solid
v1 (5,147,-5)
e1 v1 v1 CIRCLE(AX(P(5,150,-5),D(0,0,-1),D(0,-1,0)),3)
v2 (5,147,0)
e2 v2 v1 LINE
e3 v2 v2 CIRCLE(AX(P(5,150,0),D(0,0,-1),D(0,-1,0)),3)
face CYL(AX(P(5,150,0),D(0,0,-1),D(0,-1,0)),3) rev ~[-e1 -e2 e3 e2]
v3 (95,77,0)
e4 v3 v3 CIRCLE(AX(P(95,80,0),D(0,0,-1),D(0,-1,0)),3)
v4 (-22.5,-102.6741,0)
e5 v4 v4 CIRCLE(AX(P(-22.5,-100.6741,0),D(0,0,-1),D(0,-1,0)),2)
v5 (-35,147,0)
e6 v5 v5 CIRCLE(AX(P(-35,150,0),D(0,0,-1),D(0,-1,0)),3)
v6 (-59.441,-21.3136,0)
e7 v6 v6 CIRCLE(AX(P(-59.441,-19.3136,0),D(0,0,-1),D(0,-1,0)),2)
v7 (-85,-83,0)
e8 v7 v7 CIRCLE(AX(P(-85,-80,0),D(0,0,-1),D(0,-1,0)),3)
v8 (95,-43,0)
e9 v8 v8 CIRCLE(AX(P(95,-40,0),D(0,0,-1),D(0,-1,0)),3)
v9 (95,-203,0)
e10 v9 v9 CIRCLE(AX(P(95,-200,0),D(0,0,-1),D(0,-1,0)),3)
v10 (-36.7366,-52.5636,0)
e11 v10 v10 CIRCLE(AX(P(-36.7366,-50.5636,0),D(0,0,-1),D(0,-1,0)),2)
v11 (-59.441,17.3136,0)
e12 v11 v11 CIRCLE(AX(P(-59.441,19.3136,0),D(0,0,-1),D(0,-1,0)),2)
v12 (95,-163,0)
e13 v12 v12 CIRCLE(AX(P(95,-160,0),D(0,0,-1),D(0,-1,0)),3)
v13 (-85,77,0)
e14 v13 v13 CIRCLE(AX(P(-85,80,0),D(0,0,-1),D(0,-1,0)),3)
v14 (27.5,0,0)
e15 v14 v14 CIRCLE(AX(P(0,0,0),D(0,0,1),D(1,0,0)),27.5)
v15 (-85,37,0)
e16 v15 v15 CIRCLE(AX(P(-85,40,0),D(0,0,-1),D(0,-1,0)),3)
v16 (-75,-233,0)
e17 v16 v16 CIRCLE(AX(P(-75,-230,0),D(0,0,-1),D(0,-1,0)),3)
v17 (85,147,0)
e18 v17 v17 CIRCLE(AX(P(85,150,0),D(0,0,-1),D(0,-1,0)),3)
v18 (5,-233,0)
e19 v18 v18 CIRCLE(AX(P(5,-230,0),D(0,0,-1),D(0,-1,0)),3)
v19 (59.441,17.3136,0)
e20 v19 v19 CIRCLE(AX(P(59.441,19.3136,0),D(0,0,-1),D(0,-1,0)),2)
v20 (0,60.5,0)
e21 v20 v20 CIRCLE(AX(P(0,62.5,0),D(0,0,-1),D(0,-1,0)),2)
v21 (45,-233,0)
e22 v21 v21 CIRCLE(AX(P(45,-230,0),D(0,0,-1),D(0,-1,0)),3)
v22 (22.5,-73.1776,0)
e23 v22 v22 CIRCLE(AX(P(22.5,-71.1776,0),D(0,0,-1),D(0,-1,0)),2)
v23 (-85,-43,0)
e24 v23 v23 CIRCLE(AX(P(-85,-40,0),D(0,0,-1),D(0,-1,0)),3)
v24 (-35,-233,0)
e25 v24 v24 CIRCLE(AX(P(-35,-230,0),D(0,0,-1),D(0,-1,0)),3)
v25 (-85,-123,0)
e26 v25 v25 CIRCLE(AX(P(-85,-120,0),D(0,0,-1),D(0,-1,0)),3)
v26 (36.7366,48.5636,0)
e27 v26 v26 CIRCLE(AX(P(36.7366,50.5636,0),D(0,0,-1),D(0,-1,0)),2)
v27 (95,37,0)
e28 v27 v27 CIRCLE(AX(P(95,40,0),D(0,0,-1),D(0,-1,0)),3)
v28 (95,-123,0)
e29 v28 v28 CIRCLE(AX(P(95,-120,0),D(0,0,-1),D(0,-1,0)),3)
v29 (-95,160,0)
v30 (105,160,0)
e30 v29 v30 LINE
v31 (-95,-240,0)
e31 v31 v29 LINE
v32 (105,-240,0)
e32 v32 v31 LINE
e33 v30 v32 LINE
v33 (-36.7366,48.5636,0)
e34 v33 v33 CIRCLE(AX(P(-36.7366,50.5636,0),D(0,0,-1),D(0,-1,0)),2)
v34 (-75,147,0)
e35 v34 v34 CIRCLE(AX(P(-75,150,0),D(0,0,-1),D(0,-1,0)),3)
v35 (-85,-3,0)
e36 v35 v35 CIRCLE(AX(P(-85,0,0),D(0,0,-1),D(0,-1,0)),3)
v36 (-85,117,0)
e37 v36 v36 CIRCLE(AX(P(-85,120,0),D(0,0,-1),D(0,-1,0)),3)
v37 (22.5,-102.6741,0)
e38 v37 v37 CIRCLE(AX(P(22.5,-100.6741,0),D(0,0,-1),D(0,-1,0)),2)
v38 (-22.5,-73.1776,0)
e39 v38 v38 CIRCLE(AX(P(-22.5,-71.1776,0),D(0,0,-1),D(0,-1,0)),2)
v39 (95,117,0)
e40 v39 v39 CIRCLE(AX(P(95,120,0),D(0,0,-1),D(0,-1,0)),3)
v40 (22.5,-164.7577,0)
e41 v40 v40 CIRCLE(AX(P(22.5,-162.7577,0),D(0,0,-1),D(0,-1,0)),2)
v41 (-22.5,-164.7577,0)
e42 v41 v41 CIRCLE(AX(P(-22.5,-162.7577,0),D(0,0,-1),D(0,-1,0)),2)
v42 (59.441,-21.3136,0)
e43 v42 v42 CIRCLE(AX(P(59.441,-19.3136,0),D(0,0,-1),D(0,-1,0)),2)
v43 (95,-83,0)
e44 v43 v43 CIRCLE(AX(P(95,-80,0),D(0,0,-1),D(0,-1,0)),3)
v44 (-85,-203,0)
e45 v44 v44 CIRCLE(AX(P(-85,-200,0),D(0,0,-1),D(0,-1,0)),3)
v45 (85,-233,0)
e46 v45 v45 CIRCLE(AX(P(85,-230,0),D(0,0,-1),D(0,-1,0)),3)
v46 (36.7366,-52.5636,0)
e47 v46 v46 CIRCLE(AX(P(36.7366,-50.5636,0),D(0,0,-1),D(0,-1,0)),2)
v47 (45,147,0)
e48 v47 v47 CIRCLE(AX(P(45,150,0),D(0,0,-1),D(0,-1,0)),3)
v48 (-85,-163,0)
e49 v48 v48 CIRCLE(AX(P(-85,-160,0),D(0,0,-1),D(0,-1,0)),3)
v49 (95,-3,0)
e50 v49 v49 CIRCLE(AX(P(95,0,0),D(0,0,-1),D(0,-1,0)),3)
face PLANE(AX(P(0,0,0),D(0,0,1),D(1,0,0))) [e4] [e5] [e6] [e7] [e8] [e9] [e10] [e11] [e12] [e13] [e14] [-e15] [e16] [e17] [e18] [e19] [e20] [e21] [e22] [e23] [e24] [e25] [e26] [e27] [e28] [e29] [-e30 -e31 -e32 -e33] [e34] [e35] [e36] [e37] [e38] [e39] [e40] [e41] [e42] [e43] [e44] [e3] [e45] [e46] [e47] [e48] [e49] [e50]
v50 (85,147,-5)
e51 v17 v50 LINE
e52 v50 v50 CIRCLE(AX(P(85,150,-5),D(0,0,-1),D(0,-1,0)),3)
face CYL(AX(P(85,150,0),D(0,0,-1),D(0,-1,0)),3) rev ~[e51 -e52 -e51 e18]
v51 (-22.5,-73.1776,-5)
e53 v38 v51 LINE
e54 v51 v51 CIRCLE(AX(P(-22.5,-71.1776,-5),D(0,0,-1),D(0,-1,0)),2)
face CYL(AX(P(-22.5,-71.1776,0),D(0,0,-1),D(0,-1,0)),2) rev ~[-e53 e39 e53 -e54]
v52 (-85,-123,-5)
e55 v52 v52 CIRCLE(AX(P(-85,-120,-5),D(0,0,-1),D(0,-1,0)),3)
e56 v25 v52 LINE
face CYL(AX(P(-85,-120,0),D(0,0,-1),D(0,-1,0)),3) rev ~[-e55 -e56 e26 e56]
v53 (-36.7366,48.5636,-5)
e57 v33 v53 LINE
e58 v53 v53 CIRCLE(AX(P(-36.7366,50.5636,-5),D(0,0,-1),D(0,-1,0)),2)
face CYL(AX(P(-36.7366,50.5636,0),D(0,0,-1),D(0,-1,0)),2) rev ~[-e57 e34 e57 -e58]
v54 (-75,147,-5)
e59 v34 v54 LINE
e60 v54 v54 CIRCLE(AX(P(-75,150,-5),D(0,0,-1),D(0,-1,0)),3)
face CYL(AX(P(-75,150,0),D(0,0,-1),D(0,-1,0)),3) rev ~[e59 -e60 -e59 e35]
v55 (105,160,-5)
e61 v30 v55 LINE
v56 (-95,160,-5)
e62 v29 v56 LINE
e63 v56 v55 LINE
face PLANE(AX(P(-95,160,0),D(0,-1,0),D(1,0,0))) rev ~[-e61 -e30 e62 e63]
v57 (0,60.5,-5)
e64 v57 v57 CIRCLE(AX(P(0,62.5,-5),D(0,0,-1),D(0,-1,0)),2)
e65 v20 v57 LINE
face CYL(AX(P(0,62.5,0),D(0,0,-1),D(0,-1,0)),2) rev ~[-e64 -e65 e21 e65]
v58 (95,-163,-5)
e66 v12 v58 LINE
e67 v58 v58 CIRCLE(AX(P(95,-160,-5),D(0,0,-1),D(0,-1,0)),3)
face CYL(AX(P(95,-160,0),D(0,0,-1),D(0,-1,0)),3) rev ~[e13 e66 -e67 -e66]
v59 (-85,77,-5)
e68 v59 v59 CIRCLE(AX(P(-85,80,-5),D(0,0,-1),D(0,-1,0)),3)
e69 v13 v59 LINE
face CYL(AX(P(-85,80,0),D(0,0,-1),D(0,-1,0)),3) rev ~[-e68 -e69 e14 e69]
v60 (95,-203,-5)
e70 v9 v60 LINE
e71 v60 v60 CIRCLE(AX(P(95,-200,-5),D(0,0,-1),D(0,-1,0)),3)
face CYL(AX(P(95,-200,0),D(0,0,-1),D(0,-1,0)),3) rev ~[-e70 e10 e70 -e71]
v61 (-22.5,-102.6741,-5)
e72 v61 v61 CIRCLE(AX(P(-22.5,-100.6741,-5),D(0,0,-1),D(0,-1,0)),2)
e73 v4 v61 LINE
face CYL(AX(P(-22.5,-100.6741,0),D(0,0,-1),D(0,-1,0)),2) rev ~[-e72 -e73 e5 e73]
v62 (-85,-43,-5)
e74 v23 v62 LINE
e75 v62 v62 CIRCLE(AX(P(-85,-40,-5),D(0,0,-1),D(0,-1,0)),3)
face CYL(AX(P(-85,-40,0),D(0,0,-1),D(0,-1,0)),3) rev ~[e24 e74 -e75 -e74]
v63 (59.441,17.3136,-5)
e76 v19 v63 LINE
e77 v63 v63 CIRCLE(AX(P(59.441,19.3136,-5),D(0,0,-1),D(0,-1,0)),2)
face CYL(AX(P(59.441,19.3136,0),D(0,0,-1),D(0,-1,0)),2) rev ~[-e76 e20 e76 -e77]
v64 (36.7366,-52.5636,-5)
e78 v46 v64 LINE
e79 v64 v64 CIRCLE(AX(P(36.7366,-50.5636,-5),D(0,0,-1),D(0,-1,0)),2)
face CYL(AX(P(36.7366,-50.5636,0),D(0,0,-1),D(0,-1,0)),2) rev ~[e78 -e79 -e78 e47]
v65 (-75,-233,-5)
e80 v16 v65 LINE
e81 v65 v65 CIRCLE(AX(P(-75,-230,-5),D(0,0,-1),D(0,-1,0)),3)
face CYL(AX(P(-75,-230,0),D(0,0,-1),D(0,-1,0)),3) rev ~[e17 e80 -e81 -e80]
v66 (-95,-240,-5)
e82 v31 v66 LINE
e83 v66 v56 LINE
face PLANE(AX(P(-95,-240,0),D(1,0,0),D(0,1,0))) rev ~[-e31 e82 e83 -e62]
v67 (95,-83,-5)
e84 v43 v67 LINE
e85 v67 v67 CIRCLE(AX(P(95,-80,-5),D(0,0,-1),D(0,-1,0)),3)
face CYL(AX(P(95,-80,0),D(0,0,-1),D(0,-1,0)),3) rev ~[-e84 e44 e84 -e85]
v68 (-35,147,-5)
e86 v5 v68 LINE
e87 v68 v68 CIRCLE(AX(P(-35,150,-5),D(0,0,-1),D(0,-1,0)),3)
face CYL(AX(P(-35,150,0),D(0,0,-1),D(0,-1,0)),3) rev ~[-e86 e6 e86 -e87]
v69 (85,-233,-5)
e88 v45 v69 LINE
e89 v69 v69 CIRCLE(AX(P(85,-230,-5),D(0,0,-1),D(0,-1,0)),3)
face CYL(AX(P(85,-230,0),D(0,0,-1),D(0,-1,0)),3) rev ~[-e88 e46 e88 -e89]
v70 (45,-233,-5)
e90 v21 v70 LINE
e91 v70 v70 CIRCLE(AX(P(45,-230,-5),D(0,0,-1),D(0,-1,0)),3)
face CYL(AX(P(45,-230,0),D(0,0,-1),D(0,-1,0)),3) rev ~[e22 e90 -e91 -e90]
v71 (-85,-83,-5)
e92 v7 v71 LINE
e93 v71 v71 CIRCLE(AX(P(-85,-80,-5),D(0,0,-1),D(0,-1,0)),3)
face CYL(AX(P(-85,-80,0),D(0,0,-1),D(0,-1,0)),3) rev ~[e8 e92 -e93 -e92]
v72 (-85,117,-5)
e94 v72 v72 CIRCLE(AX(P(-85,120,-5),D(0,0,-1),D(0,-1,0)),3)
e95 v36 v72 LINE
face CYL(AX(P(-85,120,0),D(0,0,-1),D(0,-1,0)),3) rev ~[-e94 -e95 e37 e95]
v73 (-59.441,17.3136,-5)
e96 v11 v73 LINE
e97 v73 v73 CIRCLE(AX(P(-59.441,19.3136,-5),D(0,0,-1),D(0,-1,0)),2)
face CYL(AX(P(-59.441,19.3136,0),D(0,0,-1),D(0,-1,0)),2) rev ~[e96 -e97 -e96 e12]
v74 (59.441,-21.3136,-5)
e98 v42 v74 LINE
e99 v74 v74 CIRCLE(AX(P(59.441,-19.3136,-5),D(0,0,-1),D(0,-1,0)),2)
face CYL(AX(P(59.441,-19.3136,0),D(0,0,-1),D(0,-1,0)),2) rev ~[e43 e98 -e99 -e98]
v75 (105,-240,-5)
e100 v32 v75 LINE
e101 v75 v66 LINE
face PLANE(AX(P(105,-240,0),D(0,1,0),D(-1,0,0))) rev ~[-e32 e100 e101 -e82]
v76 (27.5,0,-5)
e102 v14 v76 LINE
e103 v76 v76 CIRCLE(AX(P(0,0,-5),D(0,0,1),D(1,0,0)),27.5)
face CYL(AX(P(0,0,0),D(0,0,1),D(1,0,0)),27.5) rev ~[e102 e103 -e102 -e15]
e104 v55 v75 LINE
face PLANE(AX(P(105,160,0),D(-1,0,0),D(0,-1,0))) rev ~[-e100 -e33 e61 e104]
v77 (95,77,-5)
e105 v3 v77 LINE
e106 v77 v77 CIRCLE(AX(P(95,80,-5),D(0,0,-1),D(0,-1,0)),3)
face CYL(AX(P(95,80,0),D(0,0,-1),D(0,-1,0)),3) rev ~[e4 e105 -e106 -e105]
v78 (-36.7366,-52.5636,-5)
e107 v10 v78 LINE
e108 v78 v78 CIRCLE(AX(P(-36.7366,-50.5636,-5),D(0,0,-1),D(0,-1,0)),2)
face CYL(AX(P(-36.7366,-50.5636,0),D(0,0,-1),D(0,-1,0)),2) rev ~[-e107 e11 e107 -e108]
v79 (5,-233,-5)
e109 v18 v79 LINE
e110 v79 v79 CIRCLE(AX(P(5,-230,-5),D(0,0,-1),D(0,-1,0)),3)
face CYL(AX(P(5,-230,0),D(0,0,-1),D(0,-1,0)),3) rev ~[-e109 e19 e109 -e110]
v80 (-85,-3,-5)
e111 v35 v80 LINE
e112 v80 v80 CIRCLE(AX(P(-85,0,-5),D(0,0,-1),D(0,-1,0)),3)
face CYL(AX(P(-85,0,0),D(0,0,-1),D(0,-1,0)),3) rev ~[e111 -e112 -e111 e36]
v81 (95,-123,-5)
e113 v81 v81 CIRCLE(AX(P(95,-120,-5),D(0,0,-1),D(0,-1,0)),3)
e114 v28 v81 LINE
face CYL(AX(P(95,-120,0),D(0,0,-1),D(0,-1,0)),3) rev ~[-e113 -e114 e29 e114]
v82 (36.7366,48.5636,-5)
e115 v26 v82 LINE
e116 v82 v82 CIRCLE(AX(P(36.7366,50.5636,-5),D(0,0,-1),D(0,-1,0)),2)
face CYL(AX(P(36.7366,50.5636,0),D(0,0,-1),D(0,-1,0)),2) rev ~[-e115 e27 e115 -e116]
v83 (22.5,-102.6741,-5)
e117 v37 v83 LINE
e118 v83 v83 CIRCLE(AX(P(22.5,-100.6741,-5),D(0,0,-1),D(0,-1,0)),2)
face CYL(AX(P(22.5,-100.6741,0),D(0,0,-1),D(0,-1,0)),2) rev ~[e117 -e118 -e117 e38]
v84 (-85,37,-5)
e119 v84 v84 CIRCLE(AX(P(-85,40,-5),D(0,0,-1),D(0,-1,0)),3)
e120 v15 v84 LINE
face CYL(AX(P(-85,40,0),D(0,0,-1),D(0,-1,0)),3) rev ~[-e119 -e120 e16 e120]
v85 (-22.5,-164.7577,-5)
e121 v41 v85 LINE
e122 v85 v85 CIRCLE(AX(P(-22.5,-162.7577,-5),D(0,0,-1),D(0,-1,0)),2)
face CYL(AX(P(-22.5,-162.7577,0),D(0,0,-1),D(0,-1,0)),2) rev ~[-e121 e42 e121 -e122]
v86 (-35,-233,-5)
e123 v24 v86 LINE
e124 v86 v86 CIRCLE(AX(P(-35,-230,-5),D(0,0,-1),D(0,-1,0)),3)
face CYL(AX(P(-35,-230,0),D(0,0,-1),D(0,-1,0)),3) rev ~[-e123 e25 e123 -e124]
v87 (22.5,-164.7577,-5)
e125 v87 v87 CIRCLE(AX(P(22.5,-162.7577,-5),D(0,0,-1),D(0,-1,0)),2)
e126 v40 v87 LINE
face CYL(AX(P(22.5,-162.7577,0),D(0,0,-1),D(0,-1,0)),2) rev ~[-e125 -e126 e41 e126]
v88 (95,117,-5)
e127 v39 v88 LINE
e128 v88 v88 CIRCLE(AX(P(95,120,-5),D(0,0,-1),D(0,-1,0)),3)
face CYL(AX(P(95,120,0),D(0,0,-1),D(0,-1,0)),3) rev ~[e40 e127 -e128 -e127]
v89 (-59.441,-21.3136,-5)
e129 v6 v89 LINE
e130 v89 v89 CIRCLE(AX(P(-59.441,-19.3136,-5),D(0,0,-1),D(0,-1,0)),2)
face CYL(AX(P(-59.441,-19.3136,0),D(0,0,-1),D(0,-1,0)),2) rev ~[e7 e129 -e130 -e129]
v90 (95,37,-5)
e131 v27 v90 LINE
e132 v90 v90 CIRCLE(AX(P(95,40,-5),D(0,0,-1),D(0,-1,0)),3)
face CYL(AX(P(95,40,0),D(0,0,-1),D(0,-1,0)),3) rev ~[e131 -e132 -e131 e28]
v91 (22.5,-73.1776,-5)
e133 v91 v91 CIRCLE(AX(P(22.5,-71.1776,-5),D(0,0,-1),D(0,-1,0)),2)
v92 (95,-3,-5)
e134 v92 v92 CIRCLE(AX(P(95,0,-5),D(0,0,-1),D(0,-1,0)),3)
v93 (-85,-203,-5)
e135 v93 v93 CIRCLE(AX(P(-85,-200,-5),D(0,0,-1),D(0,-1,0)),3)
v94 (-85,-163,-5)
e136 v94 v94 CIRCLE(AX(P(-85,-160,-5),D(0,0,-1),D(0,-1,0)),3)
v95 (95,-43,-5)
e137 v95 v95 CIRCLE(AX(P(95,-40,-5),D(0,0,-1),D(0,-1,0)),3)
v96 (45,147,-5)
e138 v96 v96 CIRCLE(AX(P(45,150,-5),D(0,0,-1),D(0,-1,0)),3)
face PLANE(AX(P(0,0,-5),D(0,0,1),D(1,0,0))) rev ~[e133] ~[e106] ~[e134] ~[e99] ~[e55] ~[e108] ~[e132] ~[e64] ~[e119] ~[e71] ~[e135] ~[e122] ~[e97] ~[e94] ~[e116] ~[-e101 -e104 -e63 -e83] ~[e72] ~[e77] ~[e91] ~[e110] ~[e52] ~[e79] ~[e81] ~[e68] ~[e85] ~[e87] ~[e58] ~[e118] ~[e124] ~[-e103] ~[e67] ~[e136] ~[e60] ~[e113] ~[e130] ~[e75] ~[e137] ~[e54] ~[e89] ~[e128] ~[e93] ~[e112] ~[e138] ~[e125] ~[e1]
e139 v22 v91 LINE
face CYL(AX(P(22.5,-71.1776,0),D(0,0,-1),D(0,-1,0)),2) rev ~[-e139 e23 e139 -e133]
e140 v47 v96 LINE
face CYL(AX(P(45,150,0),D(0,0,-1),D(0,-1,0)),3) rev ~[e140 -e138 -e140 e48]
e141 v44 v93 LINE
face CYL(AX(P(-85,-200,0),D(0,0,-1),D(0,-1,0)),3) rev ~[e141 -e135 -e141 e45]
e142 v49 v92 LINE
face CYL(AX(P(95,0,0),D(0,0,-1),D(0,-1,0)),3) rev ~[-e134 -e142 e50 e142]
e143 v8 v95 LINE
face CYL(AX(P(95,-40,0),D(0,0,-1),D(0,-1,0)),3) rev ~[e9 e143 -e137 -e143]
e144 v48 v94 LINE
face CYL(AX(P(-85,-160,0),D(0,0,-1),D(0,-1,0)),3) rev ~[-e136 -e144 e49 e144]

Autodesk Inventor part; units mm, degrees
ref_plane "YZ Plane" through (0, 0, 0) normal (1, 0, 0) x (0, 1, 0)
ref_plane "XZ Plane" through (0, 0, 0) normal (0, 1, 0) x (-1, 0, 0)
ref_plane "XY Plane" through (0, 0, 0) normal (0, 0, 1) x (1, 0, 0)
sketch "Sketch1" plane through (0, 0, 0) normal (0, 0, 1) x (1, 0, 0)
  circle A0 centre (0, 0) radius 55 projected
  arc A1 (-1.4, -192.7776) -> (1.4, -192.7776) centre (0, -192.7776) ccw projected
  line L0 (-95, 160) -> (105, 160)
  line L1 (105, 160) -> (105, -240)
  line L2 (105, -240) -> (-95, -240)
  line L3 (-95, -240) -> (-95, 160)
  line L4 (-95, 200) -> (95, -200) construction
  line L5 (95, 200) -> (-95, -200) construction
  line L6 (0, 0) -> (0, -40) construction
  point P0 (0, 0)
  dimension "d58" = 200
  dimension "d59" = 400
  dimension "d60" = 40
extrude "Extrusion1" add sketch "Sketch1" against normal blind 5
sketch "Sketch2" plane through (0, 0, 0) normal (0, 0, 1) x (1, 0, 0)
  circle A0 centre (-22.5, -100.6741) radius 2.25 projected
  circle A1 centre (22.5, -100.6741) radius 2.25 projected
  circle A2 centre (22.5, -71.1776) radius 2 projected
  circle A3 centre (-22.5, -71.1776) radius 2 projected
  circle A4 centre (-22.5, -162.7577) radius 2.25 projected
  circle A5 centre (22.5, -162.7577) radius 2.25 projected
  point P0 (0, 0)
  dimension "d53" = 71.1776
  dimension "d54" = 100.6741
  dimension "d55" = 162.7577
hole "Hole1" at (22.5, -71.1776, 0) at (-22.5, -71.1776, 0) at (-22.5, -100.6741, 0) at (22.5, -100.6741, 0) at (-22.5, -162.7577, 0) at (22.5, -162.7577, 0) direction (0, 0, -1) diameter 4 end through all
sketch "Sketch3" plane through (0, 0, 0) normal (0, 0, 1) x (1, 0, 0)
  line L0 (1.9053, 65.8) -> (3.8105, 62.5) projected
  line L1 (-1.9053, 65.8) -> (1.9053, 65.8) projected
  line L2 (-3.8105, 62.5) -> (-1.9053, 65.8) projected
  line L3 (-1.9053, 59.2) -> (-3.8105, 62.5) projected
  line L4 (1.9053, 59.2) -> (-1.9053, 59.2) projected
  line L5 (3.8105, 62.5) -> (1.9053, 59.2) projected
  line L6 (-33.2555, 49.0137) -> (-36.3383, 46.7739) projected
  line L7 (-33.6538, 52.8033) -> (-33.2555, 49.0137) projected
  line L8 (-37.1349, 54.3532) -> (-33.6538, 52.8033) projected
  line L9 (-40.2177, 52.1134) -> (-37.1349, 54.3532) projected
  line L10 (-39.8193, 48.3238) -> (-40.2177, 52.1134) projected
  line L11 (-36.3383, 46.7739) -> (-39.8193, 48.3238) projected
  line L12 (-55.7138, 20.1058) -> (-56.8913, 16.4818) projected
  line L13 (-58.2635, 22.9376) -> (-55.7138, 20.1058) projected
  line L14 (-61.9908, 22.1453) -> (-58.2635, 22.9376) projected
  line L15 (-63.1683, 18.5213) -> (-61.9908, 22.1453) projected
  line L16 (-60.6185, 15.6896) -> (-63.1683, 18.5213) projected
  line L17 (-56.8913, 16.4818) -> (-60.6185, 15.6896) projected
  line L18 (-56.8913, -16.4818) -> (-55.7138, -20.1058) projected
  line L19 (-60.6185, -15.6896) -> (-56.8913, -16.4818) projected
  line L20 (-63.1683, -18.5213) -> (-60.6185, -15.6896) projected
  line L21 (-61.9908, -22.1453) -> (-63.1683, -18.5213) projected
  line L22 (-58.2635, -22.9376) -> (-61.9908, -22.1453) projected
  line L23 (-55.7138, -20.1058) -> (-58.2635, -22.9376) projected
  line L24 (-36.3383, -46.7739) -> (-33.2555, -49.0137) projected
  line L25 (-39.8193, -48.3238) -> (-36.3383, -46.7739) projected
  line L26 (-40.2177, -52.1134) -> (-39.8193, -48.3238) projected
  line L27 (-37.1349, -54.3532) -> (-40.2177, -52.1134) projected
  line L28 (-33.6538, -52.8033) -> (-37.1349, -54.3532) projected
  line L29 (-33.2555, -49.0137) -> (-33.6538, -52.8033) projected
  line L30 (33.2555, -49.0137) -> (36.3383, -46.7739) projected
  line L31 (33.6538, -52.8033) -> (33.2555, -49.0137) projected
  line L32 (37.1349, -54.3532) -> (33.6538, -52.8033) projected
  line L33 (40.2177, -52.1134) -> (37.1349, -54.3532) projected
  line L34 (39.8193, -48.3238) -> (40.2177, -52.1134) projected
  line L35 (36.3383, -46.7739) -> (39.8193, -48.3238) projected
  line L36 (55.7138, -20.1058) -> (56.8913, -16.4818) projected
  line L37 (58.2635, -22.9376) -> (55.7138, -20.1058) projected
  line L38 (61.9908, -22.1453) -> (58.2635, -22.9376) projected
  line L39 (63.1683, -18.5213) -> (61.9908, -22.1453) projected
  line L40 (60.6185, -15.6896) -> (63.1683, -18.5213) projected
  line L41 (56.8913, -16.4818) -> (60.6185, -15.6896) projected
  line L42 (56.8913, 16.4818) -> (55.7138, 20.1058) projected
  line L43 (60.6185, 15.6896) -> (56.8913, 16.4818) projected
  line L44 (63.1683, 18.5213) -> (60.6185, 15.6896) projected
  line L45 (61.9908, 22.1453) -> (63.1683, 18.5213) projected
  line L46 (58.2635, 22.9376) -> (61.9908, 22.1453) projected
  line L47 (55.7138, 20.1058) -> (58.2635, 22.9376) projected
  line L48 (36.3383, 46.7739) -> (33.2555, 49.0137) projected
  line L49 (39.8193, 48.3238) -> (36.3383, 46.7739) projected
  line L50 (40.2177, 52.1134) -> (39.8193, 48.3238) projected
  line L51 (37.1349, 54.3532) -> (40.2177, 52.1134) projected
  line L52 (33.6538, 52.8033) -> (37.1349, 54.3532) projected
  line L53 (33.2555, 49.0137) -> (33.6538, 52.8033) projected
  circle A0 centre (0, 0) radius 42 projected
  line L54 (1.9053, 65.8) -> (-1.9053, 59.2)
  line L55 (-3.8105, 62.5) -> (3.8105, 62.5)
  arc A1 (41.8018, -53.634) -> (-41.8018, -53.634) centre (0, 0) ccw projected
  arc A2 (31.3377, -53) -> (41.8018, -53.634) centre (36.7366, -50.5636) ccw projected
  line L56 (-31.3377, -53) -> (31.3377, -53) projected
  arc A3 (-41.8018, -53.634) -> (-31.3377, -53) centre (-36.7366, -50.5636) ccw projected
  point P0 (0, 0)
  point P1 (0, 62.5)
  point P2 (-36.7366, 50.5636)
  point P3 (0, 0)
  point P4 (-59.441, 19.3136)
  point P5 (0, 0)
  point P6 (-59.441, -19.3136)
  point P7 (0, 0)
  point P8 (-36.7366, -50.5636)
  point P9 (0, 0)
  point P10 (0, -62.5)
  point P11 (0, 0)
  point P12 (36.7366, -50.5636)
  point P13 (0, 0)
  point P14 (59.441, -19.3136)
  point P15 (0, 0)
  point P16 (59.441, 19.3136)
  point P17 (0, 0)
  point P18 (36.7366, 50.5636)
  point P19 (0, 0)
hole "Hole2" at (0, 62.5, 0) at (-36.7366, 50.5636, 0) at (-59.441, 19.3136, 0) at (-59.441, -19.3136, 0) at (-36.7366, -50.5636, 0) at (0, -62.5, 0) at (36.7366, -50.5636, 0) at (59.441, -19.3136, 0) at (59.441, 19.3136, 0) at (36.7366, 50.5636, 0) direction (0, 0, -1) diameter 4 end through all
sketch "Sketch4" plane through (0, 0, 0) normal (0, 0, 1) x (1, 0, 0)
  circle A0 centre (-2.7145, -65.4202) radius 7.4729
  point P0 (0, 0)
extrude "Extrusion2" add sketch "Sketch4" against normal blind 5
sketch "Sketch6" plane through (0, 0, 0) normal (0, 0, 1) x (1, 0, 0)
  circle A0 centre (0, 0) radius 27.5
  circle A1 centre (59.441, 19.3136) radius 2 projected
  circle A2 centre (36.7366, -50.5636) radius 2 projected
  circle A3 centre (-36.7366, -50.5636) radius 2 projected
  circle A4 centre (-59.441, 19.3136) radius 2 projected
  circle A5 centre (0, 62.5) radius 2 projected
  circle A6 centre (-36.7366, 50.5636) radius 2 projected
  circle A7 centre (-59.441, -19.3136) radius 2 projected
  circle A8 centre (59.441, -19.3136) radius 2 projected
  circle A9 centre (36.7366, 50.5636) radius 2 projected
  circle A10 centre (-22.5, -162.7577) radius 2 projected
  circle A11 centre (-22.5, -100.6741) radius 2 projected
  circle A12 centre (22.5, -71.1776) radius 2 projected
  circle A13 centre (-22.5, -71.1776) radius 2 projected
  circle A14 centre (22.5, -100.6741) radius 2 projected
  circle A15 centre (22.5, -162.7577) radius 2 projected
  circle A16 centre (0, 0) radius 55 projected
  dimension "d38" = 55
extrude "Extrusion3" add sketch "Sketch6" against normal up to surface (5 mm away) contours A16
sketch "Sketch9" plane through (0, 0, 0) normal (0, 0, 1) x (1, 0, 0)
  circle A0 centre (0, 0) radius 27.5 projected
  circle A1 centre (59.441, 19.3136) radius 2 projected
  circle A2 centre (36.7366, -50.5636) radius 2 projected
  circle A3 centre (-36.7366, -50.5636) radius 2 projected
  circle A4 centre (-59.441, 19.3136) radius 2 projected
  circle A5 centre (0, 62.5) radius 2 projected
  circle A6 centre (-36.7366, 50.5636) radius 2 projected
  circle A7 centre (-59.441, -19.3136) radius 2 projected
  circle A8 centre (59.441, -19.3136) radius 2 projected
  circle A9 centre (36.7366, 50.5636) radius 2 projected
  circle A10 centre (-22.5, -162.7577) radius 2 projected
  circle A11 centre (-22.5, -100.6741) radius 2 projected
  circle A12 centre (22.5, -71.1776) radius 2 projected
  circle A13 centre (-22.5, -71.1776) radius 2 projected
  circle A14 centre (22.5, -100.6741) radius 2 projected
  circle A15 centre (22.5, -162.7577) radius 2 projected
  line L0 (-95, -240) -> (105, -240) projected
  line L1 (105, -240) -> (105, 160) projected
  line L2 (105, 160) -> (-95, 160) projected
  line L3 (-95, 160) -> (-95, -240) projected
  line L4 (-85, -230) -> (95, -230) construction
  line L5 (95, -230) -> (95, 150) construction
  line L6 (95, 150) -> (-85, 150) construction
  line L7 (-85, 150) -> (-85, -230) construction
  line L8 (-95, -240) -> (-95, 160) construction
  line L9 (-95, -230) -> (-75, -230) construction
  point P0 (-35, -230)
  point P1 (5, -230)
  point P2 (45, -230)
  point P3 (85, -230)
  point P4 (-75, 150)
  point P5 (-35, 150)
  point P6 (5, 150)
  point P7 (45, 150)
  point P8 (85, 150)
  dimension "d61" = 10
  dimension "d62" = 20
  dimension "d65" = 40
  dimension "d68" = 380
hole "Hole4" at (-75, -230, 0) at (-35, -230, 0) at (5, -230, 0) at (45, -230, 0) at (85, -230, 0) at (-75, 150, 0) at (-35, 150, 0) at (5, 150, 0) at (45, 150, 0) at (85, 150, 0) direction (0, 0, -1) diameter 6 end through all
sketch "Sketch10" plane through (0, 0, 0) normal (0, 0, 1) x (1, 0, 0)
  circle A0 centre (45, 150) radius 3 projected
  circle A1 centre (-35, 150) radius 3 projected
  circle A2 centre (85, -230) radius 3 projected
  circle A3 centre (5, -230) radius 3 projected
  circle A4 centre (-75, -230) radius 3 projected
  circle A5 centre (-35, -230) radius 3 projected
  circle A6 centre (45, -230) radius 3 projected
  circle A7 centre (-75, 150) radius 3 projected
  circle A8 centre (5, 150) radius 3 projected
  circle A9 centre (85, 150) radius 3 projected
  circle A10 centre (0, 0) radius 27.5 projected
  circle A11 centre (59.441, 19.3136) radius 2 projected
  circle A12 centre (36.7366, -50.5636) radius 2 projected
  circle A13 centre (-36.7366, -50.5636) radius 2 projected
  circle A14 centre (-59.441, 19.3136) radius 2 projected
  circle A15 centre (0, 62.5) radius 2 projected
  circle A16 centre (-36.7366, 50.5636) radius 2 projected
  circle A17 centre (-59.441, -19.3136) radius 2 projected
  circle A18 centre (59.441, -19.3136) radius 2 projected
  circle A19 centre (36.7366, 50.5636) radius 2 projected
  circle A20 centre (-22.5, -162.7577) radius 2 projected
  circle A21 centre (-22.5, -100.6741) radius 2 projected
  circle A22 centre (22.5, -71.1776) radius 2 projected
  circle A23 centre (-22.5, -71.1776) radius 2 projected
  circle A24 centre (22.5, -100.6741) radius 2 projected
  circle A25 centre (22.5, -162.7577) radius 2 projected
  line L0 (-95, -240) -> (105, -240) projected
  line L1 (105, -240) -> (105, 160) projected
  line L2 (105, 160) -> (-95, 160) projected
  line L3 (-95, 160) -> (-95, -240) projected
  line L4 (-85, -230) -> (95, -230)
  line L5 (95, -230) -> (95, 150)
  line L6 (95, 150) -> (-85, 150)
  line L7 (-85, 150) -> (-85, -230)
  line L8 (-85, -230) -> (-85, -200)
  point P0 (-85, -160)
  point P1 (-85, -120)
  point P2 (-85, -80)
  point P3 (-85, -40)
  point P4 (-85, 0)
  point P5 (-85, 40)
  point P6 (-85, 80)
  point P7 (-85, 120)
  point P8 (95, -200)
  point P9 (95, -160)
  point P10 (95, -120)
  point P11 (95, -80)
  point P12 (95, -40)
  point P13 (95, 0)
  point P14 (95, 40)
  point P15 (95, 80)
  point P16 (95, 120)
  dimension "d78" = 10
  dimension "d79" = 30
  dimension "d82" = 40
  dimension "d85" = 180
hole "Hole5" at (-85, -200, 0) at (-85, -160, 0) at (-85, -120, 0) at (-85, -80, 0) at (-85, -40, 0) at (-85, 0, 0) at (-85, 40, 0) at (-85, 80, 0) at (-85, 120, 0) at (95, -200, 0) at (95, -160, 0) at (95, -120, 0) at (95, -80, 0) at (95, -40, 0) at (95, 0, 0) at (95, 40, 0) at (95, 80, 0) at (95, 120, 0) direction (0, 0, -1) diameter 6 end through all
properties part number "Podstawa" material "Aluminum 6061"
